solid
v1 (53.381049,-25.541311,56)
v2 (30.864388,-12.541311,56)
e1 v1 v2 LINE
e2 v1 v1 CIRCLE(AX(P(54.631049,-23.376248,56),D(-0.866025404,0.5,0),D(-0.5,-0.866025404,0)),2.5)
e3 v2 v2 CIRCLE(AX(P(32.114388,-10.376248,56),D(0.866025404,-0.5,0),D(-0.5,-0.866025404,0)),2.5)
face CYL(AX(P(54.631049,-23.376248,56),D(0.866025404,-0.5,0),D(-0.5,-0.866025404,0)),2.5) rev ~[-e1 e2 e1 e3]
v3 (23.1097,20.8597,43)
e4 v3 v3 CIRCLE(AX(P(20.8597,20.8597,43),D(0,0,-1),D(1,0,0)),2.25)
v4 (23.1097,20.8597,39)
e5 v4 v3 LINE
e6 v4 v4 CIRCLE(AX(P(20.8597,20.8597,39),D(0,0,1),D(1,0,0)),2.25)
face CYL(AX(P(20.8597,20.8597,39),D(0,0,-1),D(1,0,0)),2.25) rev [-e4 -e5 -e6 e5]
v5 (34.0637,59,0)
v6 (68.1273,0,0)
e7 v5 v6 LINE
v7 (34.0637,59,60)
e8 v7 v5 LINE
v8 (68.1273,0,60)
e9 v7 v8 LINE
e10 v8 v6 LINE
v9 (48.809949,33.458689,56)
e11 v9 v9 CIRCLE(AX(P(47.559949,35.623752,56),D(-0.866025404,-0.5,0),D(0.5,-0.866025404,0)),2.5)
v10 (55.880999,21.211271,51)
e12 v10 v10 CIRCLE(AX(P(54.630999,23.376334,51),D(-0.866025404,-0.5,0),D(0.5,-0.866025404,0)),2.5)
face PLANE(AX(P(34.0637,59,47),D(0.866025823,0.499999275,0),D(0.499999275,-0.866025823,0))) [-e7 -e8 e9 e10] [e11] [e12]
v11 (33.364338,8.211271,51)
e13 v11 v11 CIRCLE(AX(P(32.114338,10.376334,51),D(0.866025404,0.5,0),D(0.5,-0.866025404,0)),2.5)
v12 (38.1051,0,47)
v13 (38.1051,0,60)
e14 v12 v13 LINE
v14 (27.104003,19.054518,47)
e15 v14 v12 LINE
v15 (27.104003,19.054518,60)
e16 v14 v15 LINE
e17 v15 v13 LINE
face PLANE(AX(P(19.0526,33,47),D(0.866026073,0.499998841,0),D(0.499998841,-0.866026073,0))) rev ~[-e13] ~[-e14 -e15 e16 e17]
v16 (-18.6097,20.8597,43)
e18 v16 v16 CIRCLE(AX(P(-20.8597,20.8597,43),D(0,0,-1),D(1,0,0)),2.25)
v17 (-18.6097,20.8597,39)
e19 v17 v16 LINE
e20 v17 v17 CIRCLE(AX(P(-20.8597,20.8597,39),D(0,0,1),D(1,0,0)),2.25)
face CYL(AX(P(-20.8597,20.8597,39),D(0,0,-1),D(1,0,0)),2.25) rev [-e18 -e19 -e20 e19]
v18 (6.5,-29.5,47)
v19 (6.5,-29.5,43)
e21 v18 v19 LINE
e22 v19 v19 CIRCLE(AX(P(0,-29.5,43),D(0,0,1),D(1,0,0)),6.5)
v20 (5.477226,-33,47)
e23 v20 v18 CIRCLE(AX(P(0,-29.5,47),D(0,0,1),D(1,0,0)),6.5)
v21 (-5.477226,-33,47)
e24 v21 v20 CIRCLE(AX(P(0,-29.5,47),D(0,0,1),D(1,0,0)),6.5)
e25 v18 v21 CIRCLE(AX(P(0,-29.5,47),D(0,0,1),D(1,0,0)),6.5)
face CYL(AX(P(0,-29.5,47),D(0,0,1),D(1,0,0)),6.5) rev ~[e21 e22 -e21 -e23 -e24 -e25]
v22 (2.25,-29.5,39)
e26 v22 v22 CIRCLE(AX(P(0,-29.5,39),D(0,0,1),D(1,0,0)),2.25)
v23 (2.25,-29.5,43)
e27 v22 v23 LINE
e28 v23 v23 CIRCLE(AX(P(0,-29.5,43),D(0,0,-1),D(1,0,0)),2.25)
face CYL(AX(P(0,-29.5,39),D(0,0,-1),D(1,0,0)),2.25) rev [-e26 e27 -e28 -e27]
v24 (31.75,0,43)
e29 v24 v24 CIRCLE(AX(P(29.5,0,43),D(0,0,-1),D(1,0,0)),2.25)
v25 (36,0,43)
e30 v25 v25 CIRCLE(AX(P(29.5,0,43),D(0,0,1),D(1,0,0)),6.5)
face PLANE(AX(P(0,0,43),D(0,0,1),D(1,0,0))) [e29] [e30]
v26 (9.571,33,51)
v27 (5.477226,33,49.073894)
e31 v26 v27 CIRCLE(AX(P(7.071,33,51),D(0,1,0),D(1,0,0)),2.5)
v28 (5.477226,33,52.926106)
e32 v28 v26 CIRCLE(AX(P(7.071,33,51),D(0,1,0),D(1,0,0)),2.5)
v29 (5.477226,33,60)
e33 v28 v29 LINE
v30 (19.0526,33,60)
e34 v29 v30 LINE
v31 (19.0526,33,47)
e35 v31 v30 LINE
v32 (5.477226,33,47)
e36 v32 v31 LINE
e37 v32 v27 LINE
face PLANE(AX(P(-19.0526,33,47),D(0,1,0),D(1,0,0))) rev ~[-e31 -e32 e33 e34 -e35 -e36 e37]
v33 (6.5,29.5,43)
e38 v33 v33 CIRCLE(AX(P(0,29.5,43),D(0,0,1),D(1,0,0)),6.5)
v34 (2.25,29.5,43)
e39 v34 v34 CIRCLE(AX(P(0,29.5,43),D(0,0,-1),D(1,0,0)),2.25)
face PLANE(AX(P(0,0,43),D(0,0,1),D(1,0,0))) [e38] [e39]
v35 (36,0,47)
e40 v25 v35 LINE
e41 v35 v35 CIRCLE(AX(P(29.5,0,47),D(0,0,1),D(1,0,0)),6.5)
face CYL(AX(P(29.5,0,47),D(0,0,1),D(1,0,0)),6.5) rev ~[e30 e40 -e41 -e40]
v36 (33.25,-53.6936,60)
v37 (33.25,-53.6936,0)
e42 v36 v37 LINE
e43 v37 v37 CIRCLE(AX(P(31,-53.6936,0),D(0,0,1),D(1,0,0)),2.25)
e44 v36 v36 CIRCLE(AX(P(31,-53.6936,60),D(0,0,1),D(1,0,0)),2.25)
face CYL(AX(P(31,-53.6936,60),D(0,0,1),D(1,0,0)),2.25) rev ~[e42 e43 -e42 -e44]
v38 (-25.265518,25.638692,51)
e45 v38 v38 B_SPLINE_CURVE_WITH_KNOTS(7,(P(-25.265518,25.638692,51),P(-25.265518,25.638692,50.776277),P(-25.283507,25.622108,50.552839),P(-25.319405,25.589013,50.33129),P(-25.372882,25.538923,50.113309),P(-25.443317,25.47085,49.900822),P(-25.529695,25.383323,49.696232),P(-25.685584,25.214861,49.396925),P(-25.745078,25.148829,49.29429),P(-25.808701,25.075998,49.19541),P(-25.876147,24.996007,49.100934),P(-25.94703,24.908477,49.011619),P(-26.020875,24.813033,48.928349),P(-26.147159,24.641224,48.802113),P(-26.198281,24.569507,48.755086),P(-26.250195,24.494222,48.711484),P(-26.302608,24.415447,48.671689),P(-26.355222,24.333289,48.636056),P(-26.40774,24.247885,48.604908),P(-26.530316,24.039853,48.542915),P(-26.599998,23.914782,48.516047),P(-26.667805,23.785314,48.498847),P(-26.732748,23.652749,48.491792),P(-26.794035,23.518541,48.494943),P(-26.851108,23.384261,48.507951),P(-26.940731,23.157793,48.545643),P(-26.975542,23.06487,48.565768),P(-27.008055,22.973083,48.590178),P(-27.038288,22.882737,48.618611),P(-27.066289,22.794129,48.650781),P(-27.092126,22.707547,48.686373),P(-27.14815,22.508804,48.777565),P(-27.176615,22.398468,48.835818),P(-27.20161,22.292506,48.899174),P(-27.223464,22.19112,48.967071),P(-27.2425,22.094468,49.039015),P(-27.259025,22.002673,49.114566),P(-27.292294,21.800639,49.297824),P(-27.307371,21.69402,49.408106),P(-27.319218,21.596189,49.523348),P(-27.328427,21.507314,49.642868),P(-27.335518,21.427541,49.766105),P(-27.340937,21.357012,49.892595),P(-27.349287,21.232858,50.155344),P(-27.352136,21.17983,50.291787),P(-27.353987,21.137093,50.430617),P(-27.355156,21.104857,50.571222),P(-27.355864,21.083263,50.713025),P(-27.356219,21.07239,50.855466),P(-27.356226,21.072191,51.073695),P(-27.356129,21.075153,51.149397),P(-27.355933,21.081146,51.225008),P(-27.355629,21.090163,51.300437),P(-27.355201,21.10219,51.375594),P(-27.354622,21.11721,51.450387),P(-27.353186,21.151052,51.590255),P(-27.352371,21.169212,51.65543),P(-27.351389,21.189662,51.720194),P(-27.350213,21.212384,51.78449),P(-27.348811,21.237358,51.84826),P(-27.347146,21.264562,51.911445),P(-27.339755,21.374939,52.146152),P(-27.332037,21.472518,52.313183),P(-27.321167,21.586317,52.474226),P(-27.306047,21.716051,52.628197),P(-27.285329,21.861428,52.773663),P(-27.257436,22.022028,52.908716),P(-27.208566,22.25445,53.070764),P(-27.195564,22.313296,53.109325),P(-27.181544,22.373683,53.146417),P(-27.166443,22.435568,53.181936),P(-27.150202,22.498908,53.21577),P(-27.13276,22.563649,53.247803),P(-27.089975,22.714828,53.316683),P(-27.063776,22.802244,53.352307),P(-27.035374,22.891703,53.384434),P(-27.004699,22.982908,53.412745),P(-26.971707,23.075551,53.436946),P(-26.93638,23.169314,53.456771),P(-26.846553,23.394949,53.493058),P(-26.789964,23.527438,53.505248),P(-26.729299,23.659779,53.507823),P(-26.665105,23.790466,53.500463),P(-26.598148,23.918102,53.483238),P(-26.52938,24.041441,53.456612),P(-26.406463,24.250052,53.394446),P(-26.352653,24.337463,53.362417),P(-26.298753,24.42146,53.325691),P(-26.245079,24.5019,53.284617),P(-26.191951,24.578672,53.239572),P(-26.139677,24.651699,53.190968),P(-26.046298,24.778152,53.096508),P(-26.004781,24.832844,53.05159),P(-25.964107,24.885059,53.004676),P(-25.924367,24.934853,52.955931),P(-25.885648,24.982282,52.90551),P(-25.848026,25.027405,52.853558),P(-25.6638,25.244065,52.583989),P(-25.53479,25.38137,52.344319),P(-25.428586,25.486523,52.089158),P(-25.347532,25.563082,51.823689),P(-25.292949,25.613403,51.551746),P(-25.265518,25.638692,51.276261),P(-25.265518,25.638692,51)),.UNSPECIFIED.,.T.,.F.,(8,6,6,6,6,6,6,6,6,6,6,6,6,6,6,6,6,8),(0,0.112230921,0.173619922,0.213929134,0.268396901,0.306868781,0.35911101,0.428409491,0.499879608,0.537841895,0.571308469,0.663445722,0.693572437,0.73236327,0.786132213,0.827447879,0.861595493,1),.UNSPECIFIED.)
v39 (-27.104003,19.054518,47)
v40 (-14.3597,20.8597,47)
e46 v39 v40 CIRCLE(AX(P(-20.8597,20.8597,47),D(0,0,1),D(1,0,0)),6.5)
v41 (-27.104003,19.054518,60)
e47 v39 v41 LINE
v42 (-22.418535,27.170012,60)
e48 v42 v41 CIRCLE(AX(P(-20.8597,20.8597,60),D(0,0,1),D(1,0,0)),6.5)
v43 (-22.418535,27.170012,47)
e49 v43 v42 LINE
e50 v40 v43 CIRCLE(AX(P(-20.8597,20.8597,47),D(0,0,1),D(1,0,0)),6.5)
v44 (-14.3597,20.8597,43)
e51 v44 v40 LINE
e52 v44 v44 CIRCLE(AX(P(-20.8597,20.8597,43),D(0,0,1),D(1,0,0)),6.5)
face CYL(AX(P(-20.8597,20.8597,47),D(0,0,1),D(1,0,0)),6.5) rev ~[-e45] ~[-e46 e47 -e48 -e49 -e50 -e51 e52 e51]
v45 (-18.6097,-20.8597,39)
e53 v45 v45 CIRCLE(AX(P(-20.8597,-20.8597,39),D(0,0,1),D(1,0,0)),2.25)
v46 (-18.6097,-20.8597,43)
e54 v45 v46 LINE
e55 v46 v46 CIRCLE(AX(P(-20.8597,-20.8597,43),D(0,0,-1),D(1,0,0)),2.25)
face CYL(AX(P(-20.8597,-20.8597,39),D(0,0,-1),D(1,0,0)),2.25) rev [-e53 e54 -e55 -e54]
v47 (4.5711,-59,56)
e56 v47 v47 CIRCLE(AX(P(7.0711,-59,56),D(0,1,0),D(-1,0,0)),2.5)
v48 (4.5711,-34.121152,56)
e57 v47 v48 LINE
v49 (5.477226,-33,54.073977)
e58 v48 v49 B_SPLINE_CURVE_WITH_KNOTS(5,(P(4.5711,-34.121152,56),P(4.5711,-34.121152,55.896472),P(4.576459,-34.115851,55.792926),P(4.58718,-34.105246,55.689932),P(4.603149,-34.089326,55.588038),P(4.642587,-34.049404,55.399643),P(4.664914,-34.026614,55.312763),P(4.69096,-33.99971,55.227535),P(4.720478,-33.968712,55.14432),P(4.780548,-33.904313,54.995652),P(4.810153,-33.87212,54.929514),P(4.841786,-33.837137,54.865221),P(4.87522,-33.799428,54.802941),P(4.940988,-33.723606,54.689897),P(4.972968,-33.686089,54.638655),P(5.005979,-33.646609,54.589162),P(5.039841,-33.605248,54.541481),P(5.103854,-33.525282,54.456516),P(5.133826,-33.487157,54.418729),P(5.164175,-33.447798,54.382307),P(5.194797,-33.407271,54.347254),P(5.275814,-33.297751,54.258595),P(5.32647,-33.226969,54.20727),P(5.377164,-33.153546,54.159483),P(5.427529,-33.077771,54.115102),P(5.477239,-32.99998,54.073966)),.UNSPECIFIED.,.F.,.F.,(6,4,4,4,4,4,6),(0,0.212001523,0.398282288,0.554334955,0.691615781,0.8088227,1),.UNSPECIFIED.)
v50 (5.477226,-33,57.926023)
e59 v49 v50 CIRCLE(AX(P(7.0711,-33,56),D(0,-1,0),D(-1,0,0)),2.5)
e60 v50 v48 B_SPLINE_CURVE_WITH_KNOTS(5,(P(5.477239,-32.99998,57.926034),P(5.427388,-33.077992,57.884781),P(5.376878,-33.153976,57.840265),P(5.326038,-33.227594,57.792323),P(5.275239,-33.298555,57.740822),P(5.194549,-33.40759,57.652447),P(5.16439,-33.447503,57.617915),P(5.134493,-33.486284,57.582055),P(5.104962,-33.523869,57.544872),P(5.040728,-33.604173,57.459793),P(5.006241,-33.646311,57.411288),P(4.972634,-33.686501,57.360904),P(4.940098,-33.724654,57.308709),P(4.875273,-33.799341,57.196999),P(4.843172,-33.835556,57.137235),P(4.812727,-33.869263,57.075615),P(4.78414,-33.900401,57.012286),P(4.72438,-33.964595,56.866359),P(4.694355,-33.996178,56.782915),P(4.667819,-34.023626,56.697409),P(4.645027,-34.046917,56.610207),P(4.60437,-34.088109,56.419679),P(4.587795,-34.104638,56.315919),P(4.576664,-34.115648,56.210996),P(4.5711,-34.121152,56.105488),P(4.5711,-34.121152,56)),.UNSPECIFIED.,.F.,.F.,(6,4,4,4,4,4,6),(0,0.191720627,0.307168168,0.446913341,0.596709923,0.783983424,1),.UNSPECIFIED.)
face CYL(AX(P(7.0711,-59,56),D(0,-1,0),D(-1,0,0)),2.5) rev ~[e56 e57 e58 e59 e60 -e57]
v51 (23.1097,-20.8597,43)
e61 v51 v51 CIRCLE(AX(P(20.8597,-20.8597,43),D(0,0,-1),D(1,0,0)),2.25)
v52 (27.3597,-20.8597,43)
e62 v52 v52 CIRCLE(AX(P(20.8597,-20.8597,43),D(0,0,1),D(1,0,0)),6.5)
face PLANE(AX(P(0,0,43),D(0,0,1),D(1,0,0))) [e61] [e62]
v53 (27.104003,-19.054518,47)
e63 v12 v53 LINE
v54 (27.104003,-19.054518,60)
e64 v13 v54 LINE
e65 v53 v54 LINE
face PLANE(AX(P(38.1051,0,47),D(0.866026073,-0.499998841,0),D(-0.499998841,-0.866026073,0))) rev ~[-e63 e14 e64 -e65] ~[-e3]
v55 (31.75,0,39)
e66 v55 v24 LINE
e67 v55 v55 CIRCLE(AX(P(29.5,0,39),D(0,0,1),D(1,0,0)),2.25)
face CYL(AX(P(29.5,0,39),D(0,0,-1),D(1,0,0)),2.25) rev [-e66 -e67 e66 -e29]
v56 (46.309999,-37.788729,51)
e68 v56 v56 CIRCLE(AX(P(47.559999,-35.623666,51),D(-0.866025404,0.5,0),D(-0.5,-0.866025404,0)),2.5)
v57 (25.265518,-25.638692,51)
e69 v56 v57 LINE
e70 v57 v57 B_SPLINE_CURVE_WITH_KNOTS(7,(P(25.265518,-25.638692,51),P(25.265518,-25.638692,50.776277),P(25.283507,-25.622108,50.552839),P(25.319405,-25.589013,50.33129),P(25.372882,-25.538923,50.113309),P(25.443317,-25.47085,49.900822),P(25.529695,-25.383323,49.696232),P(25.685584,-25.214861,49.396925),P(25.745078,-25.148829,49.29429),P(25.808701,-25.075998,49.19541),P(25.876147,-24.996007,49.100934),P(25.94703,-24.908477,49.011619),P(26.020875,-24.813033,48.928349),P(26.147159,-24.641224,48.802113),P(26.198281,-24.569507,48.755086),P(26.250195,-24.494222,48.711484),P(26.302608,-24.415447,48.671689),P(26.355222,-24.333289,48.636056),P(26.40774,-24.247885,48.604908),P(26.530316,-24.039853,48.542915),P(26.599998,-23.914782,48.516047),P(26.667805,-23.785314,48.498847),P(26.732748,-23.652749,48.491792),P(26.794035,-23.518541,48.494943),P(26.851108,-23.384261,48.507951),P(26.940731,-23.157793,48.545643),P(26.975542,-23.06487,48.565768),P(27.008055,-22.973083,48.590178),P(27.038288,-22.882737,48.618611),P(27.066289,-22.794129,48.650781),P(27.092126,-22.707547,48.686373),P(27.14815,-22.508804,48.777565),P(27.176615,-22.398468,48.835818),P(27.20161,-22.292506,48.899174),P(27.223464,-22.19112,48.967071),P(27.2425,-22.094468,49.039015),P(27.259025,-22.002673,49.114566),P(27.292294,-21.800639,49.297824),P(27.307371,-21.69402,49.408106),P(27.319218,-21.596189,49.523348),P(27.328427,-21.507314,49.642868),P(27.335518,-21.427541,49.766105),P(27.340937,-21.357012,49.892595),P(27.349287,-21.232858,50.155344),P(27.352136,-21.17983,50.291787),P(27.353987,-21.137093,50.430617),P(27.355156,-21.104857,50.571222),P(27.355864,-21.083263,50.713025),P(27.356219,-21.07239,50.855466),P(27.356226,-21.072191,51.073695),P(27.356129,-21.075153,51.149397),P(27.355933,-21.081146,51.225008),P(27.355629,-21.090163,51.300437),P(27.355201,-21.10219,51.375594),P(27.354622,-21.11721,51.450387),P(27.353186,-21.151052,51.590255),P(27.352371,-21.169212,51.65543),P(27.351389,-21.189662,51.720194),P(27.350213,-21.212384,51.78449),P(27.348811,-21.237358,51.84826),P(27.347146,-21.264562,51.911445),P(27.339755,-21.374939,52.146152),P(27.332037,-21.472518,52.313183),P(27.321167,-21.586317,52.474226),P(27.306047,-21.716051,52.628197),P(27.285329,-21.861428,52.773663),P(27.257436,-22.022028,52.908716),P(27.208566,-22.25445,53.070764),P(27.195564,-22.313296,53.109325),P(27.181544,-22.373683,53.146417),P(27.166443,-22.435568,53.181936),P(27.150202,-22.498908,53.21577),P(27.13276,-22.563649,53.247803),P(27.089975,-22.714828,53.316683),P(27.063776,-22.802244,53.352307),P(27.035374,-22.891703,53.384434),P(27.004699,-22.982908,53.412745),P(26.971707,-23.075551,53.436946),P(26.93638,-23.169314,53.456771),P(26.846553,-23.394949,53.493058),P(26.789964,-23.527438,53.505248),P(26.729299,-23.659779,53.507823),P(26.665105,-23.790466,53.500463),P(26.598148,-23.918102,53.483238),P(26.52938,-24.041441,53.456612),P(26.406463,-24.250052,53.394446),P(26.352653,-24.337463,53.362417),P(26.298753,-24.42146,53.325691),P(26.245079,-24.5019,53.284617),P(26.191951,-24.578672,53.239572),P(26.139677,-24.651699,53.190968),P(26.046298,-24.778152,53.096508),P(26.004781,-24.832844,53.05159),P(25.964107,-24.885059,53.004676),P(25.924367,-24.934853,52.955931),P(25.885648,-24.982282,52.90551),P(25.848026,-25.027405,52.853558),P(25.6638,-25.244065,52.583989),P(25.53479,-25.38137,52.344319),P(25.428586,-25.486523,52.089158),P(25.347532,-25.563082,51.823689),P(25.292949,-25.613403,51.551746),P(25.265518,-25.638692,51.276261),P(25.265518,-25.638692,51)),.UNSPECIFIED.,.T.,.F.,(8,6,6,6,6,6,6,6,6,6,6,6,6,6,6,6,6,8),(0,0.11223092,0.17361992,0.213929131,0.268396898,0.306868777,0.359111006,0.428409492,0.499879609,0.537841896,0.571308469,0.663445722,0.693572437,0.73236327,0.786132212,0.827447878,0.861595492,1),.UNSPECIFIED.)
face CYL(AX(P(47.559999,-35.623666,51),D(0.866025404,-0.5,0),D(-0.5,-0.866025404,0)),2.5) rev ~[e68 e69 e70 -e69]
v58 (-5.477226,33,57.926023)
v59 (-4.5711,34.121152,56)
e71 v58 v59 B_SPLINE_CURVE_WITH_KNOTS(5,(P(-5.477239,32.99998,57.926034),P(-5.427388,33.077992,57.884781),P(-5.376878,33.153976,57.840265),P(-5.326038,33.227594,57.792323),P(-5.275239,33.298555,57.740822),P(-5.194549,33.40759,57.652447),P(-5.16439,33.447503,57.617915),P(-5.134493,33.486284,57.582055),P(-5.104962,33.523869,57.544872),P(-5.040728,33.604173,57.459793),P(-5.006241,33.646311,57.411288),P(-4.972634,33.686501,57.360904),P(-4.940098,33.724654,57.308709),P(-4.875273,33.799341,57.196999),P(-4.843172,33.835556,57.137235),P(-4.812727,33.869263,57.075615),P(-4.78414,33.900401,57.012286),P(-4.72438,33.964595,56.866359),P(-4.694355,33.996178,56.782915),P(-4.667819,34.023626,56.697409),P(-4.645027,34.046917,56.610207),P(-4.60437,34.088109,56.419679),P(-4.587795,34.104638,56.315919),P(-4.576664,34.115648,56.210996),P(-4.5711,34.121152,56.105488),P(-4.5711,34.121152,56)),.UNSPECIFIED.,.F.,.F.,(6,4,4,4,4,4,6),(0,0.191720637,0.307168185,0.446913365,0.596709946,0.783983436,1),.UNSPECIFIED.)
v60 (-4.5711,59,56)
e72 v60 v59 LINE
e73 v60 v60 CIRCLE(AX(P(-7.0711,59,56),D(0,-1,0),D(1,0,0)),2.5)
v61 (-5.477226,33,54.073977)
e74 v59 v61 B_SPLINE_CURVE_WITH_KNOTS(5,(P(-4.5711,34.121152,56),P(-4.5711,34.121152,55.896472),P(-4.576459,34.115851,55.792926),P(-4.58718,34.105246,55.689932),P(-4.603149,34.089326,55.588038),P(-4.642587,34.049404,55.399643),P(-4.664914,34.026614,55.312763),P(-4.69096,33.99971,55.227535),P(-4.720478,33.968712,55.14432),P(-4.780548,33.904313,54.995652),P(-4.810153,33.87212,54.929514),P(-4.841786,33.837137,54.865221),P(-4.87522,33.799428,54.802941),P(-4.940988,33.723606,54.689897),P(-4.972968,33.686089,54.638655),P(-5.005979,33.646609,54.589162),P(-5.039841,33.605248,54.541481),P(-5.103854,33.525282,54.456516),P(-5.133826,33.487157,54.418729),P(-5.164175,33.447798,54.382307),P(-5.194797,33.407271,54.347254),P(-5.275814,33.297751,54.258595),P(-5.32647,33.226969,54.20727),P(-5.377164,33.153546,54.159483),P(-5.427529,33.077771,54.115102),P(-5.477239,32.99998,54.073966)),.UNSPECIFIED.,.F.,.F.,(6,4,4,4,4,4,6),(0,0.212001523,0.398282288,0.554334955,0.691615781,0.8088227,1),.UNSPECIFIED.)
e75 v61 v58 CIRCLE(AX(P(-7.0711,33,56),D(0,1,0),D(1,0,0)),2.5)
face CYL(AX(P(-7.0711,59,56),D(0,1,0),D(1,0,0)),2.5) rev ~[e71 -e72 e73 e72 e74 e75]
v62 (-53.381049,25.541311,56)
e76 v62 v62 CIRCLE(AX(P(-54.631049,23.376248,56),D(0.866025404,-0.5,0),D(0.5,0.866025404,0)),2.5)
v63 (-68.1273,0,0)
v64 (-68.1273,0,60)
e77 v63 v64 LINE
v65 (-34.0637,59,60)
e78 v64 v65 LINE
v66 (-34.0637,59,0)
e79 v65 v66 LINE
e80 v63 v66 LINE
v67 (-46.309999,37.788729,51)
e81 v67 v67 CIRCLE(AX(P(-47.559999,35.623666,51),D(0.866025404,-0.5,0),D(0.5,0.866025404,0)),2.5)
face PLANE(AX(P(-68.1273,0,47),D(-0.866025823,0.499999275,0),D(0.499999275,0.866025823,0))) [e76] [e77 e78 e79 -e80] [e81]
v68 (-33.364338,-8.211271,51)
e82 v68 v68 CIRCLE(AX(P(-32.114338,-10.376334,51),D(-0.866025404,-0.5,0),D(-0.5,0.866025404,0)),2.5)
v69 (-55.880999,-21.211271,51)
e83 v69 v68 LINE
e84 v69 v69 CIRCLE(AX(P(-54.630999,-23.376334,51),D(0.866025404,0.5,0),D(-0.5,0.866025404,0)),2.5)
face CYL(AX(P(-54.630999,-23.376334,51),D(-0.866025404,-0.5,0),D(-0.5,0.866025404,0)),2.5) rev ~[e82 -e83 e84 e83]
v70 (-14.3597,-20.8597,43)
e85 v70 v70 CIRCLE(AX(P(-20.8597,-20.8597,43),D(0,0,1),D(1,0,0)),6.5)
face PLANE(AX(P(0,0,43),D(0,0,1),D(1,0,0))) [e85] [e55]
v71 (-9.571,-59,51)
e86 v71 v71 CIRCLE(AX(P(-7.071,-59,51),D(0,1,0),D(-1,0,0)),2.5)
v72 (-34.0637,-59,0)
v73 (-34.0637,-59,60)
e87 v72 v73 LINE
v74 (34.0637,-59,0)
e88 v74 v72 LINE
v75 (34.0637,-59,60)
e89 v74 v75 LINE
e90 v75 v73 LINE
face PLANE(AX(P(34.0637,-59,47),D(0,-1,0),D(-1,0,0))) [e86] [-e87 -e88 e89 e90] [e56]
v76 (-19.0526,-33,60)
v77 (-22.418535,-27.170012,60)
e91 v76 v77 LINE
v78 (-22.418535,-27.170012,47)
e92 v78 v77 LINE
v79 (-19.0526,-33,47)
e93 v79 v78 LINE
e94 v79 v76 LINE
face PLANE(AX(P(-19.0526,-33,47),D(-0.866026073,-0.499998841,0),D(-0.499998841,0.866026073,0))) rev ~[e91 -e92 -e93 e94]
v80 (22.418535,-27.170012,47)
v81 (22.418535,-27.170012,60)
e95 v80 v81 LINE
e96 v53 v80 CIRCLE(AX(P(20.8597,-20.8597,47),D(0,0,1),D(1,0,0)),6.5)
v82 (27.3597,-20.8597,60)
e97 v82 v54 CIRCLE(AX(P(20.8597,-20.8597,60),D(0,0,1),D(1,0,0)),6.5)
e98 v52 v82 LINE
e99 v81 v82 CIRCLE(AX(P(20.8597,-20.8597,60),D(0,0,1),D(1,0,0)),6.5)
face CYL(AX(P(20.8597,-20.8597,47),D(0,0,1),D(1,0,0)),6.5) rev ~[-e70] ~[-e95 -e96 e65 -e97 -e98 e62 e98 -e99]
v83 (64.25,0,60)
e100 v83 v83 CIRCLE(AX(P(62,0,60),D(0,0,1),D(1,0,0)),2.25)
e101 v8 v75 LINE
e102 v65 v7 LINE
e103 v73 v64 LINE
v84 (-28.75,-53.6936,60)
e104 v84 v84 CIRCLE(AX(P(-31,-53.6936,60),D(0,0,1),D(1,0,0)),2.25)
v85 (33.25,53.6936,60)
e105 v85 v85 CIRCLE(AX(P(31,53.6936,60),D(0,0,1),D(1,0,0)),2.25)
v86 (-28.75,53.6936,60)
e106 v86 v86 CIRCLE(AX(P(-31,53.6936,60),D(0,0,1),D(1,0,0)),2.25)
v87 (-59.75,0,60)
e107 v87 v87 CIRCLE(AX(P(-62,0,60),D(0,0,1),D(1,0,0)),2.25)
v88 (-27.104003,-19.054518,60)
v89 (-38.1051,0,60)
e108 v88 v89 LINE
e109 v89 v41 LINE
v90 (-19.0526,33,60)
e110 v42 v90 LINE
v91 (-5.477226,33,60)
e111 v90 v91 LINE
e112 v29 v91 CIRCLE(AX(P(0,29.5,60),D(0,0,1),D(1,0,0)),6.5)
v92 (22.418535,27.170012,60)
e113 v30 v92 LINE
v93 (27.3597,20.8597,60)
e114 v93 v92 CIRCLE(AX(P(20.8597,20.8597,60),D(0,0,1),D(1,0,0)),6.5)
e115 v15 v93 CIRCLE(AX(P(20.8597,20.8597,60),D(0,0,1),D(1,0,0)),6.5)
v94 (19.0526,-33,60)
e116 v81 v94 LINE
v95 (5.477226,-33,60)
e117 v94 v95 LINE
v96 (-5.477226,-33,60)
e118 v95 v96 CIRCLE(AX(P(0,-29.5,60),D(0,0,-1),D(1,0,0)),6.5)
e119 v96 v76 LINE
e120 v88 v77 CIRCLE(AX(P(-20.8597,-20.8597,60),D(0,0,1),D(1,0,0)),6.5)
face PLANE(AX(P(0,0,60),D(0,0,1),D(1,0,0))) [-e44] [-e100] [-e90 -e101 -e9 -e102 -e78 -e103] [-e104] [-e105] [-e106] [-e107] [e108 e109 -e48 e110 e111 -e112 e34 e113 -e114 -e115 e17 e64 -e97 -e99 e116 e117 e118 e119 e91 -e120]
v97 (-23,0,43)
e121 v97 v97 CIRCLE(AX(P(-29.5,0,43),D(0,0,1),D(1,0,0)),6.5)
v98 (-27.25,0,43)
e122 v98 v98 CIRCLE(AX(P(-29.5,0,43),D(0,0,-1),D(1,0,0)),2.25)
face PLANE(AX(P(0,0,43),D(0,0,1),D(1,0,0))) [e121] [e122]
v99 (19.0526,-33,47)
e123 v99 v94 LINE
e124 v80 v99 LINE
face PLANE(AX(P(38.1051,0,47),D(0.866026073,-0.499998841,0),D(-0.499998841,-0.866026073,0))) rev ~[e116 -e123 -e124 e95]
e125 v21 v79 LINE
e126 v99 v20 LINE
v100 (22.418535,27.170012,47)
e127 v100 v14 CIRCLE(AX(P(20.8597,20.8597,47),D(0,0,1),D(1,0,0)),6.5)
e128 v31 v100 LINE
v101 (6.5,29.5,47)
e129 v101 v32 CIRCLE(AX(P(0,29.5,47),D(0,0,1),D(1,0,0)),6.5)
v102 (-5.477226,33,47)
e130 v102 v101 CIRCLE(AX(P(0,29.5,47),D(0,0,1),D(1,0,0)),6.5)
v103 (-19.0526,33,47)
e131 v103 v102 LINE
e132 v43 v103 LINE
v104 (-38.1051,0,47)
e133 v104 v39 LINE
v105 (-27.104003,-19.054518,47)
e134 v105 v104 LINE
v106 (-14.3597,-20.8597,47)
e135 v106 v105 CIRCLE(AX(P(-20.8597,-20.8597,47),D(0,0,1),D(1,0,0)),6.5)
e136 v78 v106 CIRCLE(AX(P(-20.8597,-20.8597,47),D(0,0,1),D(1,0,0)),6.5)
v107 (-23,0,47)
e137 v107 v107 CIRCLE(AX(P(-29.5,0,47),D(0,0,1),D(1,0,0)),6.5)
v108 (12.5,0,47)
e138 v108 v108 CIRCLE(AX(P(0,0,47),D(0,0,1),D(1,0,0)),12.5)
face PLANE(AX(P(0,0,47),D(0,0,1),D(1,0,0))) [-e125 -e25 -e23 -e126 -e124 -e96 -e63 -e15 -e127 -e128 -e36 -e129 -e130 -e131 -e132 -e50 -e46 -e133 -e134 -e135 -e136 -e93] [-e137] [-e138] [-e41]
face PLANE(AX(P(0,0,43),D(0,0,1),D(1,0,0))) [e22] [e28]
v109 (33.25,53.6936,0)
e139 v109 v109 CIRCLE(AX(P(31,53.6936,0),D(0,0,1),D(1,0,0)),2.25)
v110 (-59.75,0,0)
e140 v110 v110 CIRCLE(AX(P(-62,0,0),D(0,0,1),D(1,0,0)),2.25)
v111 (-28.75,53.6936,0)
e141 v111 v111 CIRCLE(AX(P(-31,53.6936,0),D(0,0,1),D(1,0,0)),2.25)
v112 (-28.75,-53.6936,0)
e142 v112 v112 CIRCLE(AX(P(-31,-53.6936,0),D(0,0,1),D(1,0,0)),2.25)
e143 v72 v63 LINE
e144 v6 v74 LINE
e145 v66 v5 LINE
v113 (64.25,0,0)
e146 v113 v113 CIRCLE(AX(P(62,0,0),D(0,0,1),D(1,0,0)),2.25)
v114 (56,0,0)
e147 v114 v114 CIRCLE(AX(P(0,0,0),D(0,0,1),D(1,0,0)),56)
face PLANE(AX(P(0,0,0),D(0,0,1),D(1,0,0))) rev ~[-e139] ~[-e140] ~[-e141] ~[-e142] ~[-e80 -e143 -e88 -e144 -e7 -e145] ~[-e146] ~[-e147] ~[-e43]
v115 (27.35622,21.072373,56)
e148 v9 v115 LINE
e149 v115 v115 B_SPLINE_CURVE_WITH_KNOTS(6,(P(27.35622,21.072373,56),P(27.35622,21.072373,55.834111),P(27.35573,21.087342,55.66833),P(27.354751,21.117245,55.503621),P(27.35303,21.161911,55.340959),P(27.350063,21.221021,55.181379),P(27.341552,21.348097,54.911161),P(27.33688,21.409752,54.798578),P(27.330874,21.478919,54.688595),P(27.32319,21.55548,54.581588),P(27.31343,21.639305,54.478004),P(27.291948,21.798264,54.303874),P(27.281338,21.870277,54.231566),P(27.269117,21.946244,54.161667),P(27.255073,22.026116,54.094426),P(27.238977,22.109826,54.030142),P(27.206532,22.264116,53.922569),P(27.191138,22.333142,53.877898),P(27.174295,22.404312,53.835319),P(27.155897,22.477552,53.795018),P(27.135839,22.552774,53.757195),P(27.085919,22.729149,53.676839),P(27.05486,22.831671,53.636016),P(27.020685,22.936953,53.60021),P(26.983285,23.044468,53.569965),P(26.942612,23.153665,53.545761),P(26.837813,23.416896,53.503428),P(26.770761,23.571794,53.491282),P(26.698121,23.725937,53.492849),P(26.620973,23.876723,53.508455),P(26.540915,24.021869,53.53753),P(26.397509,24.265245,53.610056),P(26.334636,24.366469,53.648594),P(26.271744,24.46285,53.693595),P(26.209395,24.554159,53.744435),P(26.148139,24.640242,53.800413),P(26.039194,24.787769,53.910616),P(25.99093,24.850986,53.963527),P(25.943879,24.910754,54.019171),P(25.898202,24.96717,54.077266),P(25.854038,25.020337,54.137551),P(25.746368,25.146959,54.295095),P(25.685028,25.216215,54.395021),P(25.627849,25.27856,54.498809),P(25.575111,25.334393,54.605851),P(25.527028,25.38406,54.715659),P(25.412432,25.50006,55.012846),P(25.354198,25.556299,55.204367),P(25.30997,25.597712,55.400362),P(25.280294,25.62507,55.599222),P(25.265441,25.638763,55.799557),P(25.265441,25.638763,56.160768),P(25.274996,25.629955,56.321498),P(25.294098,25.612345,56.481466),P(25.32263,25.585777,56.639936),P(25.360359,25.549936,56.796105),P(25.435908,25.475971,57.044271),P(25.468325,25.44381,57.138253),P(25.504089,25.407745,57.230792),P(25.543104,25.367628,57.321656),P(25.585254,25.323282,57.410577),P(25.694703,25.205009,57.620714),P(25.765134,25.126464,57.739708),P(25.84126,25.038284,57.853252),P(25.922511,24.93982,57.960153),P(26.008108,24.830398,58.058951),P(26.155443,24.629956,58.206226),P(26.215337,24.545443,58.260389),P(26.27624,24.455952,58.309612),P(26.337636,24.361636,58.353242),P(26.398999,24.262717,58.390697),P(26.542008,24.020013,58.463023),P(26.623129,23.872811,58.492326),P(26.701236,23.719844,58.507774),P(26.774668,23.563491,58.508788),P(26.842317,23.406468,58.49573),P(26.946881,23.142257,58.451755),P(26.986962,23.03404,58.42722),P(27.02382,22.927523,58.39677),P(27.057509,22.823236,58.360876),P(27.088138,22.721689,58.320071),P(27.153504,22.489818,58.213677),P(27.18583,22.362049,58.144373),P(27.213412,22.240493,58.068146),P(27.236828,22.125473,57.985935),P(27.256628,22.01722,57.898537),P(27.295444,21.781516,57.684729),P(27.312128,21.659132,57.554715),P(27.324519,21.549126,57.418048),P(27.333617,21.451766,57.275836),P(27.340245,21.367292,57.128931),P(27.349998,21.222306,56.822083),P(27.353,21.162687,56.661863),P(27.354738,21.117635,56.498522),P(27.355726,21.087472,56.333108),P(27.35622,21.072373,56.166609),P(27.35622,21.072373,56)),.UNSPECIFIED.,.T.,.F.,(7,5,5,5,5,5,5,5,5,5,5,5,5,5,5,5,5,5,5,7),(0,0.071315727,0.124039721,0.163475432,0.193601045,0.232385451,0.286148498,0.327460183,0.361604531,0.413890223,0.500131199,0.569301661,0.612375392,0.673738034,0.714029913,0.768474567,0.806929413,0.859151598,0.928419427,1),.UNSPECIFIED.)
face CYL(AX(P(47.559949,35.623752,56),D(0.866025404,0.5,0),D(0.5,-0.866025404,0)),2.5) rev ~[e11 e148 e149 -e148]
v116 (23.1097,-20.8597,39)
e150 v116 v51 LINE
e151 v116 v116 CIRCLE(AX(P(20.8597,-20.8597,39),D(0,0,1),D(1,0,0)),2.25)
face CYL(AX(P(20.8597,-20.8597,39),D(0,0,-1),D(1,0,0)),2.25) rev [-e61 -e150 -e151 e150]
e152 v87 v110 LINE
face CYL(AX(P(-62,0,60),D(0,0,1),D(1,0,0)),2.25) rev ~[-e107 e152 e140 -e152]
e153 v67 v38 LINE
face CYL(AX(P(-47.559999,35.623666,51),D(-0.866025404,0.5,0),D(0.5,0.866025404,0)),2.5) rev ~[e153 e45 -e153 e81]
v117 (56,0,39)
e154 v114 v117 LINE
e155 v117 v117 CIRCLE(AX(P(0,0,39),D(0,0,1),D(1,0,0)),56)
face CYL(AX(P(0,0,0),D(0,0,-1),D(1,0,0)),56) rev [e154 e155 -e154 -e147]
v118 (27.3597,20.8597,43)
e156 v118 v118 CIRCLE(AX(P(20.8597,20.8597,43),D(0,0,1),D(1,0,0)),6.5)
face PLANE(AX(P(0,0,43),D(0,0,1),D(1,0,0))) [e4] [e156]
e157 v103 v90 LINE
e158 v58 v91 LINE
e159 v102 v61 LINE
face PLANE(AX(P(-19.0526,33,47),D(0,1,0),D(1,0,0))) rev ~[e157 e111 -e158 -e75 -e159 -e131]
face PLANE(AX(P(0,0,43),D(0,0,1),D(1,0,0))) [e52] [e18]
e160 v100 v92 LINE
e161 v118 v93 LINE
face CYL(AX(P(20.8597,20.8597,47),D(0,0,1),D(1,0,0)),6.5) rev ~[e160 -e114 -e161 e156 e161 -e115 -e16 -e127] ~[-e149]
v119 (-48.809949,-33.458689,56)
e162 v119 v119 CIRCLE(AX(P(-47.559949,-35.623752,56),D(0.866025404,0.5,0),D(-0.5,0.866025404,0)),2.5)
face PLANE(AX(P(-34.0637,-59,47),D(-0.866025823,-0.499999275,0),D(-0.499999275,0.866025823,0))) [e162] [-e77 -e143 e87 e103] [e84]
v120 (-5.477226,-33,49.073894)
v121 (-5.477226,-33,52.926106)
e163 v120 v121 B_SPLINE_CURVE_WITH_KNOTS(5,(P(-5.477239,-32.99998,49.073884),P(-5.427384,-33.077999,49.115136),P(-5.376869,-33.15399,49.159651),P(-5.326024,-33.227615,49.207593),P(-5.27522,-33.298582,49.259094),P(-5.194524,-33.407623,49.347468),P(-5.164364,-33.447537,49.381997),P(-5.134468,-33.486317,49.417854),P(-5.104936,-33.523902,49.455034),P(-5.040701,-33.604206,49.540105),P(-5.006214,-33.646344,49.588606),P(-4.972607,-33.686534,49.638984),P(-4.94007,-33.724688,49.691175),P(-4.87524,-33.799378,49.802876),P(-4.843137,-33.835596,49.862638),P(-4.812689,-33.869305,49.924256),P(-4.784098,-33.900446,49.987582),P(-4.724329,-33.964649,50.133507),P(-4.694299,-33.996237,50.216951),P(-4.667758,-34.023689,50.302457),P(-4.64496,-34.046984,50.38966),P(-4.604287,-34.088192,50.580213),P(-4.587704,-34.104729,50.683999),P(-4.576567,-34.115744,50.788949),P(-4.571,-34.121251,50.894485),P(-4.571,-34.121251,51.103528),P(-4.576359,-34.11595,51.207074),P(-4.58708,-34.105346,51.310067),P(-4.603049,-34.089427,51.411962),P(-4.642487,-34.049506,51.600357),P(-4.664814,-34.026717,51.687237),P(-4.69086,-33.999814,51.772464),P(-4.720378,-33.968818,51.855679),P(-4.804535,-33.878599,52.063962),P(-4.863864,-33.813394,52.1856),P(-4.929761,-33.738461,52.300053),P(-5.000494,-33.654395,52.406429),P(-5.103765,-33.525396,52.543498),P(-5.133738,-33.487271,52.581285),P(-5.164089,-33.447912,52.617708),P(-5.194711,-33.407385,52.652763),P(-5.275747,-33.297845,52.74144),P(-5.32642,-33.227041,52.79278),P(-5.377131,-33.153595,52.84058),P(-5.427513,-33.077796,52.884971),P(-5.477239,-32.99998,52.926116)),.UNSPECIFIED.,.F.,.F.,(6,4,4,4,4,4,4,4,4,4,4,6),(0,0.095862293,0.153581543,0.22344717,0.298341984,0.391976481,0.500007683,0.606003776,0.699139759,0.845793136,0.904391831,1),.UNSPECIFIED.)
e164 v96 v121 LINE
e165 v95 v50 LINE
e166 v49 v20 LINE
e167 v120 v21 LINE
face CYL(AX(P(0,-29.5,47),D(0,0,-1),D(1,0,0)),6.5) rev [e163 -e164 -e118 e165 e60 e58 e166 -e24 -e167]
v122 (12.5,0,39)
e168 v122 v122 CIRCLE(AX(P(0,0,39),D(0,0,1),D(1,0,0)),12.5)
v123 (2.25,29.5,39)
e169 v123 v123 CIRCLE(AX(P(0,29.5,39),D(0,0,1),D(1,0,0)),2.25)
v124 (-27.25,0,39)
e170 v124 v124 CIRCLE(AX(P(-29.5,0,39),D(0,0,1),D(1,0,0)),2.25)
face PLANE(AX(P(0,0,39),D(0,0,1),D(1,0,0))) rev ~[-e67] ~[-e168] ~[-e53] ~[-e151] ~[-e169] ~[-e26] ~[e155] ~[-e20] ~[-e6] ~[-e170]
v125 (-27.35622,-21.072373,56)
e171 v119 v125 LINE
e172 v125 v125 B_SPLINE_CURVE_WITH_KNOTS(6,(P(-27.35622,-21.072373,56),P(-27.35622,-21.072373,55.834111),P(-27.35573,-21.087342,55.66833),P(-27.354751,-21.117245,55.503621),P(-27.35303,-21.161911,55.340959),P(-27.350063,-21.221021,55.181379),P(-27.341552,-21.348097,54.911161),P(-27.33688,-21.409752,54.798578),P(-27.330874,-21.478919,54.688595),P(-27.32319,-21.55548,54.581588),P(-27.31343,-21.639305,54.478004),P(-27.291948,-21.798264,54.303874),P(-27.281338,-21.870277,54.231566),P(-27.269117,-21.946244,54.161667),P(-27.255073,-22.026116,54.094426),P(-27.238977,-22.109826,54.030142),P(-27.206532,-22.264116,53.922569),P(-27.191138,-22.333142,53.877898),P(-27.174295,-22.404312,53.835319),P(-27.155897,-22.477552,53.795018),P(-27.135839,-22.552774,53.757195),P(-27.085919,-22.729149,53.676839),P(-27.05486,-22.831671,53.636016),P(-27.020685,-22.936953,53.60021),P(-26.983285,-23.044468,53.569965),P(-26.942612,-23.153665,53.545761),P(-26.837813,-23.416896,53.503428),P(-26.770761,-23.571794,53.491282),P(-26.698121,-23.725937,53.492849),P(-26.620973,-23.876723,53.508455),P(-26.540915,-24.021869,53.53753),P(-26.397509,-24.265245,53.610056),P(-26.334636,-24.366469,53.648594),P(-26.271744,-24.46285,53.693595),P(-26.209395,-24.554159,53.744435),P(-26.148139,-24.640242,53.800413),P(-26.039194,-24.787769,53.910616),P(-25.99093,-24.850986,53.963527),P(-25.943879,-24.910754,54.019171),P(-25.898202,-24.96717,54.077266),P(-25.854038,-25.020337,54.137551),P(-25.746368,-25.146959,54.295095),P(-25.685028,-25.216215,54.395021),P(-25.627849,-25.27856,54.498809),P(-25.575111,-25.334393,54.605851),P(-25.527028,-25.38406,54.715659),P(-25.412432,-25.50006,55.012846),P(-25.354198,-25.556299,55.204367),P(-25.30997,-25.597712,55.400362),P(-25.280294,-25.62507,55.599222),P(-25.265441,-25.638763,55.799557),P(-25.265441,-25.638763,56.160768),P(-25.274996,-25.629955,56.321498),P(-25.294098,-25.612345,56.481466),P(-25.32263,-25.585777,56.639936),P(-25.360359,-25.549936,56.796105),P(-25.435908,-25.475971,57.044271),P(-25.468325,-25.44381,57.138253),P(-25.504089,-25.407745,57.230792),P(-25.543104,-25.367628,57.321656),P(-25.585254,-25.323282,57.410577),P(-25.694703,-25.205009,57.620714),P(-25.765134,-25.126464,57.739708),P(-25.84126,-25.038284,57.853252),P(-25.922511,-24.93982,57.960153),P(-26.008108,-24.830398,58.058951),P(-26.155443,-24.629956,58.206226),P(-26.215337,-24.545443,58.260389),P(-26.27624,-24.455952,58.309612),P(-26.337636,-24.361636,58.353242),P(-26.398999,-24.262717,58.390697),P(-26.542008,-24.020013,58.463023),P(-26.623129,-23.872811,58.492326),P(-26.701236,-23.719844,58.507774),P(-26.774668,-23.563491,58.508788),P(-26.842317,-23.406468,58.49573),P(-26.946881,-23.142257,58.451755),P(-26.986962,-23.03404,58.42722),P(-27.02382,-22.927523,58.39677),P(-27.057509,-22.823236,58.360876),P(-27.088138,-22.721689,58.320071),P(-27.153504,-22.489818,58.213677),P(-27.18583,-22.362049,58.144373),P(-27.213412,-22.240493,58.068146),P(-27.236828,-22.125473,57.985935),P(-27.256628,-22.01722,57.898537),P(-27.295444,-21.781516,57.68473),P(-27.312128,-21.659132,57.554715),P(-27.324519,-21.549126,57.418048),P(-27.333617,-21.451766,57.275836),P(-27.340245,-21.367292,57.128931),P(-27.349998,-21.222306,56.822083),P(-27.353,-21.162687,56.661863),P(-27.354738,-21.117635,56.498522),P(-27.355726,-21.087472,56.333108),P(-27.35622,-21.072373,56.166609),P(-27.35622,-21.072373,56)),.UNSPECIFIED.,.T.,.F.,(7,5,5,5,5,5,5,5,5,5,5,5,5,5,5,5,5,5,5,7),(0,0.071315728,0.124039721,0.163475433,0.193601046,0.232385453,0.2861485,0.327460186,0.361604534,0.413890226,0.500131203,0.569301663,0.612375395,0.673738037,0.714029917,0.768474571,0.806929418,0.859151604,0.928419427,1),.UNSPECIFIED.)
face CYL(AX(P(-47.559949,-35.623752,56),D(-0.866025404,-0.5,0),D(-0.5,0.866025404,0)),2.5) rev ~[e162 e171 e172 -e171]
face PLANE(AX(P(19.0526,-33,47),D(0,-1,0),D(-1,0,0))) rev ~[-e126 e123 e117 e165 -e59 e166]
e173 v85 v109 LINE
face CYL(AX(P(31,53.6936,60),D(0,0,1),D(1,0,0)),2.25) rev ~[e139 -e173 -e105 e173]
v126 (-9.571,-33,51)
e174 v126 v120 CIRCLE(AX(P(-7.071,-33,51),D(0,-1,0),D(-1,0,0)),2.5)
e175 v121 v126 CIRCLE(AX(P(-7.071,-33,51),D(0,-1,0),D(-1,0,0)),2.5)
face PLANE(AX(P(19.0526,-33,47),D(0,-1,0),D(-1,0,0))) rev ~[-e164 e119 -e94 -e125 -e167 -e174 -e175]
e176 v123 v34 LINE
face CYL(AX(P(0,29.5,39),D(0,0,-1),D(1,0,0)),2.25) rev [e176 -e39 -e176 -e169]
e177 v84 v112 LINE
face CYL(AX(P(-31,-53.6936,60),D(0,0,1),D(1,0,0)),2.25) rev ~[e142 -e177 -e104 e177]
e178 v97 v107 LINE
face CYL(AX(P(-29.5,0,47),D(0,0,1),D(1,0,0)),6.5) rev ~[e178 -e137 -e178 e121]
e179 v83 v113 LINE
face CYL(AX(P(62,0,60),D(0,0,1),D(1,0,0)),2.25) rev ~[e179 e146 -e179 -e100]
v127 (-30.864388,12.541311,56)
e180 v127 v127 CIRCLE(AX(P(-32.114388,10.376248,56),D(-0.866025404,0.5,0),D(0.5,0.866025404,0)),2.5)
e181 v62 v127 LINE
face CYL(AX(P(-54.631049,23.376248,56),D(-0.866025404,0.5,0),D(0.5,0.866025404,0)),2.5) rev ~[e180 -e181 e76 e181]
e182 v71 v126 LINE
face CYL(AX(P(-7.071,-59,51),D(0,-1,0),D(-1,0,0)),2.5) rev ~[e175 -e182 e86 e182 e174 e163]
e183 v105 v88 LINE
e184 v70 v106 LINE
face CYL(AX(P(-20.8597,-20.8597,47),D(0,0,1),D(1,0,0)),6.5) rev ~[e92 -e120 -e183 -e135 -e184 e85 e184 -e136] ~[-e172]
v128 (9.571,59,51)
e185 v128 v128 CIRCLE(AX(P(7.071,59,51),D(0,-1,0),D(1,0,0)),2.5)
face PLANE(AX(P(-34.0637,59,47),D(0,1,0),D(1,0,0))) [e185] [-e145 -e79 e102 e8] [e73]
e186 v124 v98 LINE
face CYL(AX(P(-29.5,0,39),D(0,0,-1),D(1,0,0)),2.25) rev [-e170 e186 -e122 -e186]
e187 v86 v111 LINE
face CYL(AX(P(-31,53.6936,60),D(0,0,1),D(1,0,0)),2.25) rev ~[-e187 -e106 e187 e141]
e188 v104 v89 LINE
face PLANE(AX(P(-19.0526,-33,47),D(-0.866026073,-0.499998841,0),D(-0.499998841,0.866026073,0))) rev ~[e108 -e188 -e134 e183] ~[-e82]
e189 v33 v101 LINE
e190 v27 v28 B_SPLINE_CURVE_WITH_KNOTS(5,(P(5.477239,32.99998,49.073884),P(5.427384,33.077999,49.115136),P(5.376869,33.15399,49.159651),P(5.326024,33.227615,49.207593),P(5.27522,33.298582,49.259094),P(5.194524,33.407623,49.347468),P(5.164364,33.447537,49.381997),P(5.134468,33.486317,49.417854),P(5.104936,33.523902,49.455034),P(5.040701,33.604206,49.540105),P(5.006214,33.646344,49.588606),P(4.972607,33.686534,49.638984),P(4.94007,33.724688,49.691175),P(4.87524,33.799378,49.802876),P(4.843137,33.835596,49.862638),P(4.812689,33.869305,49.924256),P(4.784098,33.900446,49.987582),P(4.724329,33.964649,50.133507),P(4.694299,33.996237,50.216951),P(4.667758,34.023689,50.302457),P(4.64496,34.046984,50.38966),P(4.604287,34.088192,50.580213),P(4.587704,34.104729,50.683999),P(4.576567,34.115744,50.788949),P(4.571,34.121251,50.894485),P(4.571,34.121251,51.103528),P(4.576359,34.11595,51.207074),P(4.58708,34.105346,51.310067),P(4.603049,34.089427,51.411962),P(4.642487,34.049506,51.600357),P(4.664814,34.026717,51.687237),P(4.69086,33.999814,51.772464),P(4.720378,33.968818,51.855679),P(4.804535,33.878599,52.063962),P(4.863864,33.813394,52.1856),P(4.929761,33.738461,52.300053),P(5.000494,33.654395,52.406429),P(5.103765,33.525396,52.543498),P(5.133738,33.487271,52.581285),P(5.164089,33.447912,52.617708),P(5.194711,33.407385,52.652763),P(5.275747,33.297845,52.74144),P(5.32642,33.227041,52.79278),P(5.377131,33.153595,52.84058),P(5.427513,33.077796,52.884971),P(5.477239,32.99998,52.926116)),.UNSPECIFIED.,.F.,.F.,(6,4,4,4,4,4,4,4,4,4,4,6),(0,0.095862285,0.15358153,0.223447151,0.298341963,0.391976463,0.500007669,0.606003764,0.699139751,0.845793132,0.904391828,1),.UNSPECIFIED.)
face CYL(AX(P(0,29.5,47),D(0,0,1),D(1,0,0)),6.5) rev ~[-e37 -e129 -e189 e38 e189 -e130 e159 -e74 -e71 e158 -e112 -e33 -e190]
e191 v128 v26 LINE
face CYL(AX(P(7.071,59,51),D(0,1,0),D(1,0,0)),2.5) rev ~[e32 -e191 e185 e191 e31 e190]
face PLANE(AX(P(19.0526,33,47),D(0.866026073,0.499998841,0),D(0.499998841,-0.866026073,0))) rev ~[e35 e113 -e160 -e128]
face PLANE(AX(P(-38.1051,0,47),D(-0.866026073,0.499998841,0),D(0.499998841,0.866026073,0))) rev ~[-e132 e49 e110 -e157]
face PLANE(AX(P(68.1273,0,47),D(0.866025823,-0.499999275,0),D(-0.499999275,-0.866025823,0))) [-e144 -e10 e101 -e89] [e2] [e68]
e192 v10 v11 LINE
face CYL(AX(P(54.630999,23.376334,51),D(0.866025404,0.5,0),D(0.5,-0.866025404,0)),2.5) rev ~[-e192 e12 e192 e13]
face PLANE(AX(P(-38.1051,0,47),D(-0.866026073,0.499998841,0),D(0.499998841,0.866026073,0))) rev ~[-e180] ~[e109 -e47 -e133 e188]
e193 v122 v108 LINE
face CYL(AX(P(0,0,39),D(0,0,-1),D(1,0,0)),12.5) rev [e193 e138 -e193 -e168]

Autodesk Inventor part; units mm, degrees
ref_plane "YZ Plane" through (0, 0, 0) normal (1, 0, 0) x (0, 1, 0)
ref_plane "XZ Plane" through (0, 0, 0) normal (0, 1, 0) x (-1, 0, 0)
ref_plane "XY Plane" through (0, 0, 0) normal (0, 0, 1) x (1, 0, 0)
sketch "Sketch1" plane through (0, 0, 0) normal (0, 0, 1) x (1, 0, 0)
  line L0 (68.1273, 0) -> (34.0637, -59)
  line L1 (34.0637, -59) -> (-34.0637, -59)
  line L2 (-34.0637, -59) -> (-68.1273, 0)
  line L3 (-68.1273, 0) -> (-34.0637, 59)
  line L4 (-34.0637, 59) -> (34.0637, 59)
  line L5 (34.0637, 59) -> (68.1273, 0)
  circle A0 centre (0, 0) radius 56
  dimension "d0" = 118
  dimension "d2" = 112
extrude "Extrusion1" add sketch "Sketch1" along normal blind 39
sketch "Sketch3" plane through (0, 0, 39) normal (0, 0, 1) x (1, 0, 0)
  circle A0 centre (0, 0) radius 12.5
  line L0 (-34.0637, 59) -> (-68.1273, 0) projected
  line L1 (-68.1273, 0) -> (-34.0637, 59)
  line L2 (-34.0637, 59) -> (34.0637, 59)
  line L3 (34.0637, 59) -> (68.1273, 0)
  line L4 (68.1273, 0) -> (34.0637, -59)
  line L5 (34.0637, -59) -> (-34.0637, -59)
  line L6 (-34.0637, -59) -> (-68.1273, 0)
  circle A1 centre (29.5, 0) radius 2.25
  circle A2 centre (20.8597, 20.8597) radius 2.25
  circle A3 centre (0, 29.5) radius 2.25
  circle A4 centre (-20.8597, 20.8597) radius 2.25
  circle A5 centre (-29.5, 0) radius 2.25
  circle A6 centre (-20.8597, -20.8597) radius 2.25
  circle A7 centre (0, -29.5) radius 2.25
  circle A8 centre (20.8597, -20.8597) radius 2.25
  dimension "d5" = 25
  dimension "d8" = 29.5
  dimension "d9" = 4.5
  dimension "d12" = 360
extrude "Extrusion2" add sketch "Sketch3" along normal blind 8
sketch "Sketch4" plane through (0, 0, 47) normal (0, 0, 1) x (1, 0, 0)
  line L0 (-38.1051, 0) -> (-19.0526, 33)
  line L1 (-19.0526, 33) -> (19.0526, 33)
  line L2 (19.0526, 33) -> (38.1051, 0)
  line L3 (38.1051, 0) -> (19.0526, -33)
  line L4 (19.0526, -33) -> (-19.0526, -33)
  line L5 (-19.0526, -33) -> (-38.1051, 0)
  line L6 (-68.1273, 0) -> (-34.0637, 59)
  line L7 (-34.0637, 59) -> (34.0637, 59)
  line L8 (34.0637, 59) -> (68.1273, 0)
  line L9 (68.1273, 0) -> (34.0637, -59)
  line L10 (34.0637, -59) -> (-34.0637, -59)
  line L11 (-34.0637, -59) -> (-68.1273, 0)
  point P0 (0, 0)
  point P1 (0, 0)
  point P2 (0, 0)
  dimension "d14" = 66
extrude "Extrusion3" add sketch "Sketch4" along normal blind 13
sketch "Sketch5" plane through (-34.0637, 59, 0) normal (0, 1, 0) x (1, 0, 0)
  line L0 (53.1162, -47) -> (15.0111, -47) projected
  line L1 (53.1162, -47) -> (53.1162, -60) projected
  line L2 (15.0111, -60) -> (53.1162, -60) projected
  line L3 (15.0111, -47) -> (15.0111, -60) projected
  line L4 (26.9926, -56) -> (41.1347, -51)
  circle A0 centre (26.9926, -56) radius 2.5
  circle A1 centre (41.1347, -51) radius 2.5
  point P0 (34.0637, 0)
  point P1 (34.0637, -53.5)
  point P2 (34.0637, -60)
  point P3 (15.0111, -53.5)
  dimension "d17" = 5
  dimension "d18" = 5
  dimension "d19" = 15
  dimension "d20" = 5
extrude "Extrusion4" cut sketch "Sketch5" against normal up to surface (26 mm away) from surface at 0 contours A1 | A0
pattern_circular "Circular Pattern1" count 6 over 360 about axis through (0, 0, 39) along (0, 0, 1) of "Extrusion4"
sketch "Sketch6" plane through (0, 0, 47) normal (0, 0, 1) x (1, 0, 0)
  circle A0 centre (0, -29.5) radius 2.25 projected
  circle A1 centre (0, -29.5) radius 6.5
  circle A2 centre (20.8597, -20.8597) radius 6.5
  circle A3 centre (29.5, 0) radius 6.5
  circle A4 centre (20.8597, 20.8597) radius 6.5
  circle A5 centre (0, 29.5) radius 6.5
  circle A6 centre (-20.8597, 20.8597) radius 6.5
  circle A7 centre (-29.5, 0) radius 6.5
  circle A8 centre (-20.8597, -20.8597) radius 6.5
  point P0 (0, 0)
  dimension "d26" = 13
  dimension "d29" = 360
extrude "Extrusion5" cut sketch "Sketch6" against normal blind 4 and the other way blind 25 contours A0 | A1 | A2 | A3 | A4 | A5 | A6 | A7 | A8
sketch "Sketch7" plane through (0, 0, 60) normal (0, 0, 1) x (1, 0, 0)
  circle A0 centre (62, 0) radius 2.25
  circle A1 centre (31, 53.6936) radius 2.25
  circle A2 centre (-31, 53.6936) radius 2.25
  circle A3 centre (-62, 0) radius 2.25
  circle A4 centre (-31, -53.6936) radius 2.25
  circle A5 centre (31, -53.6936) radius 2.25
  point P0 (0, 0)
  dimension "d35" = 4.5
  dimension "d36" = 62
  dimension "d39" = 360
extrude "Extrusion6" cut sketch "Sketch7" against normal through all
properties part number "XT-SM-04" material "ABS Plastic"
